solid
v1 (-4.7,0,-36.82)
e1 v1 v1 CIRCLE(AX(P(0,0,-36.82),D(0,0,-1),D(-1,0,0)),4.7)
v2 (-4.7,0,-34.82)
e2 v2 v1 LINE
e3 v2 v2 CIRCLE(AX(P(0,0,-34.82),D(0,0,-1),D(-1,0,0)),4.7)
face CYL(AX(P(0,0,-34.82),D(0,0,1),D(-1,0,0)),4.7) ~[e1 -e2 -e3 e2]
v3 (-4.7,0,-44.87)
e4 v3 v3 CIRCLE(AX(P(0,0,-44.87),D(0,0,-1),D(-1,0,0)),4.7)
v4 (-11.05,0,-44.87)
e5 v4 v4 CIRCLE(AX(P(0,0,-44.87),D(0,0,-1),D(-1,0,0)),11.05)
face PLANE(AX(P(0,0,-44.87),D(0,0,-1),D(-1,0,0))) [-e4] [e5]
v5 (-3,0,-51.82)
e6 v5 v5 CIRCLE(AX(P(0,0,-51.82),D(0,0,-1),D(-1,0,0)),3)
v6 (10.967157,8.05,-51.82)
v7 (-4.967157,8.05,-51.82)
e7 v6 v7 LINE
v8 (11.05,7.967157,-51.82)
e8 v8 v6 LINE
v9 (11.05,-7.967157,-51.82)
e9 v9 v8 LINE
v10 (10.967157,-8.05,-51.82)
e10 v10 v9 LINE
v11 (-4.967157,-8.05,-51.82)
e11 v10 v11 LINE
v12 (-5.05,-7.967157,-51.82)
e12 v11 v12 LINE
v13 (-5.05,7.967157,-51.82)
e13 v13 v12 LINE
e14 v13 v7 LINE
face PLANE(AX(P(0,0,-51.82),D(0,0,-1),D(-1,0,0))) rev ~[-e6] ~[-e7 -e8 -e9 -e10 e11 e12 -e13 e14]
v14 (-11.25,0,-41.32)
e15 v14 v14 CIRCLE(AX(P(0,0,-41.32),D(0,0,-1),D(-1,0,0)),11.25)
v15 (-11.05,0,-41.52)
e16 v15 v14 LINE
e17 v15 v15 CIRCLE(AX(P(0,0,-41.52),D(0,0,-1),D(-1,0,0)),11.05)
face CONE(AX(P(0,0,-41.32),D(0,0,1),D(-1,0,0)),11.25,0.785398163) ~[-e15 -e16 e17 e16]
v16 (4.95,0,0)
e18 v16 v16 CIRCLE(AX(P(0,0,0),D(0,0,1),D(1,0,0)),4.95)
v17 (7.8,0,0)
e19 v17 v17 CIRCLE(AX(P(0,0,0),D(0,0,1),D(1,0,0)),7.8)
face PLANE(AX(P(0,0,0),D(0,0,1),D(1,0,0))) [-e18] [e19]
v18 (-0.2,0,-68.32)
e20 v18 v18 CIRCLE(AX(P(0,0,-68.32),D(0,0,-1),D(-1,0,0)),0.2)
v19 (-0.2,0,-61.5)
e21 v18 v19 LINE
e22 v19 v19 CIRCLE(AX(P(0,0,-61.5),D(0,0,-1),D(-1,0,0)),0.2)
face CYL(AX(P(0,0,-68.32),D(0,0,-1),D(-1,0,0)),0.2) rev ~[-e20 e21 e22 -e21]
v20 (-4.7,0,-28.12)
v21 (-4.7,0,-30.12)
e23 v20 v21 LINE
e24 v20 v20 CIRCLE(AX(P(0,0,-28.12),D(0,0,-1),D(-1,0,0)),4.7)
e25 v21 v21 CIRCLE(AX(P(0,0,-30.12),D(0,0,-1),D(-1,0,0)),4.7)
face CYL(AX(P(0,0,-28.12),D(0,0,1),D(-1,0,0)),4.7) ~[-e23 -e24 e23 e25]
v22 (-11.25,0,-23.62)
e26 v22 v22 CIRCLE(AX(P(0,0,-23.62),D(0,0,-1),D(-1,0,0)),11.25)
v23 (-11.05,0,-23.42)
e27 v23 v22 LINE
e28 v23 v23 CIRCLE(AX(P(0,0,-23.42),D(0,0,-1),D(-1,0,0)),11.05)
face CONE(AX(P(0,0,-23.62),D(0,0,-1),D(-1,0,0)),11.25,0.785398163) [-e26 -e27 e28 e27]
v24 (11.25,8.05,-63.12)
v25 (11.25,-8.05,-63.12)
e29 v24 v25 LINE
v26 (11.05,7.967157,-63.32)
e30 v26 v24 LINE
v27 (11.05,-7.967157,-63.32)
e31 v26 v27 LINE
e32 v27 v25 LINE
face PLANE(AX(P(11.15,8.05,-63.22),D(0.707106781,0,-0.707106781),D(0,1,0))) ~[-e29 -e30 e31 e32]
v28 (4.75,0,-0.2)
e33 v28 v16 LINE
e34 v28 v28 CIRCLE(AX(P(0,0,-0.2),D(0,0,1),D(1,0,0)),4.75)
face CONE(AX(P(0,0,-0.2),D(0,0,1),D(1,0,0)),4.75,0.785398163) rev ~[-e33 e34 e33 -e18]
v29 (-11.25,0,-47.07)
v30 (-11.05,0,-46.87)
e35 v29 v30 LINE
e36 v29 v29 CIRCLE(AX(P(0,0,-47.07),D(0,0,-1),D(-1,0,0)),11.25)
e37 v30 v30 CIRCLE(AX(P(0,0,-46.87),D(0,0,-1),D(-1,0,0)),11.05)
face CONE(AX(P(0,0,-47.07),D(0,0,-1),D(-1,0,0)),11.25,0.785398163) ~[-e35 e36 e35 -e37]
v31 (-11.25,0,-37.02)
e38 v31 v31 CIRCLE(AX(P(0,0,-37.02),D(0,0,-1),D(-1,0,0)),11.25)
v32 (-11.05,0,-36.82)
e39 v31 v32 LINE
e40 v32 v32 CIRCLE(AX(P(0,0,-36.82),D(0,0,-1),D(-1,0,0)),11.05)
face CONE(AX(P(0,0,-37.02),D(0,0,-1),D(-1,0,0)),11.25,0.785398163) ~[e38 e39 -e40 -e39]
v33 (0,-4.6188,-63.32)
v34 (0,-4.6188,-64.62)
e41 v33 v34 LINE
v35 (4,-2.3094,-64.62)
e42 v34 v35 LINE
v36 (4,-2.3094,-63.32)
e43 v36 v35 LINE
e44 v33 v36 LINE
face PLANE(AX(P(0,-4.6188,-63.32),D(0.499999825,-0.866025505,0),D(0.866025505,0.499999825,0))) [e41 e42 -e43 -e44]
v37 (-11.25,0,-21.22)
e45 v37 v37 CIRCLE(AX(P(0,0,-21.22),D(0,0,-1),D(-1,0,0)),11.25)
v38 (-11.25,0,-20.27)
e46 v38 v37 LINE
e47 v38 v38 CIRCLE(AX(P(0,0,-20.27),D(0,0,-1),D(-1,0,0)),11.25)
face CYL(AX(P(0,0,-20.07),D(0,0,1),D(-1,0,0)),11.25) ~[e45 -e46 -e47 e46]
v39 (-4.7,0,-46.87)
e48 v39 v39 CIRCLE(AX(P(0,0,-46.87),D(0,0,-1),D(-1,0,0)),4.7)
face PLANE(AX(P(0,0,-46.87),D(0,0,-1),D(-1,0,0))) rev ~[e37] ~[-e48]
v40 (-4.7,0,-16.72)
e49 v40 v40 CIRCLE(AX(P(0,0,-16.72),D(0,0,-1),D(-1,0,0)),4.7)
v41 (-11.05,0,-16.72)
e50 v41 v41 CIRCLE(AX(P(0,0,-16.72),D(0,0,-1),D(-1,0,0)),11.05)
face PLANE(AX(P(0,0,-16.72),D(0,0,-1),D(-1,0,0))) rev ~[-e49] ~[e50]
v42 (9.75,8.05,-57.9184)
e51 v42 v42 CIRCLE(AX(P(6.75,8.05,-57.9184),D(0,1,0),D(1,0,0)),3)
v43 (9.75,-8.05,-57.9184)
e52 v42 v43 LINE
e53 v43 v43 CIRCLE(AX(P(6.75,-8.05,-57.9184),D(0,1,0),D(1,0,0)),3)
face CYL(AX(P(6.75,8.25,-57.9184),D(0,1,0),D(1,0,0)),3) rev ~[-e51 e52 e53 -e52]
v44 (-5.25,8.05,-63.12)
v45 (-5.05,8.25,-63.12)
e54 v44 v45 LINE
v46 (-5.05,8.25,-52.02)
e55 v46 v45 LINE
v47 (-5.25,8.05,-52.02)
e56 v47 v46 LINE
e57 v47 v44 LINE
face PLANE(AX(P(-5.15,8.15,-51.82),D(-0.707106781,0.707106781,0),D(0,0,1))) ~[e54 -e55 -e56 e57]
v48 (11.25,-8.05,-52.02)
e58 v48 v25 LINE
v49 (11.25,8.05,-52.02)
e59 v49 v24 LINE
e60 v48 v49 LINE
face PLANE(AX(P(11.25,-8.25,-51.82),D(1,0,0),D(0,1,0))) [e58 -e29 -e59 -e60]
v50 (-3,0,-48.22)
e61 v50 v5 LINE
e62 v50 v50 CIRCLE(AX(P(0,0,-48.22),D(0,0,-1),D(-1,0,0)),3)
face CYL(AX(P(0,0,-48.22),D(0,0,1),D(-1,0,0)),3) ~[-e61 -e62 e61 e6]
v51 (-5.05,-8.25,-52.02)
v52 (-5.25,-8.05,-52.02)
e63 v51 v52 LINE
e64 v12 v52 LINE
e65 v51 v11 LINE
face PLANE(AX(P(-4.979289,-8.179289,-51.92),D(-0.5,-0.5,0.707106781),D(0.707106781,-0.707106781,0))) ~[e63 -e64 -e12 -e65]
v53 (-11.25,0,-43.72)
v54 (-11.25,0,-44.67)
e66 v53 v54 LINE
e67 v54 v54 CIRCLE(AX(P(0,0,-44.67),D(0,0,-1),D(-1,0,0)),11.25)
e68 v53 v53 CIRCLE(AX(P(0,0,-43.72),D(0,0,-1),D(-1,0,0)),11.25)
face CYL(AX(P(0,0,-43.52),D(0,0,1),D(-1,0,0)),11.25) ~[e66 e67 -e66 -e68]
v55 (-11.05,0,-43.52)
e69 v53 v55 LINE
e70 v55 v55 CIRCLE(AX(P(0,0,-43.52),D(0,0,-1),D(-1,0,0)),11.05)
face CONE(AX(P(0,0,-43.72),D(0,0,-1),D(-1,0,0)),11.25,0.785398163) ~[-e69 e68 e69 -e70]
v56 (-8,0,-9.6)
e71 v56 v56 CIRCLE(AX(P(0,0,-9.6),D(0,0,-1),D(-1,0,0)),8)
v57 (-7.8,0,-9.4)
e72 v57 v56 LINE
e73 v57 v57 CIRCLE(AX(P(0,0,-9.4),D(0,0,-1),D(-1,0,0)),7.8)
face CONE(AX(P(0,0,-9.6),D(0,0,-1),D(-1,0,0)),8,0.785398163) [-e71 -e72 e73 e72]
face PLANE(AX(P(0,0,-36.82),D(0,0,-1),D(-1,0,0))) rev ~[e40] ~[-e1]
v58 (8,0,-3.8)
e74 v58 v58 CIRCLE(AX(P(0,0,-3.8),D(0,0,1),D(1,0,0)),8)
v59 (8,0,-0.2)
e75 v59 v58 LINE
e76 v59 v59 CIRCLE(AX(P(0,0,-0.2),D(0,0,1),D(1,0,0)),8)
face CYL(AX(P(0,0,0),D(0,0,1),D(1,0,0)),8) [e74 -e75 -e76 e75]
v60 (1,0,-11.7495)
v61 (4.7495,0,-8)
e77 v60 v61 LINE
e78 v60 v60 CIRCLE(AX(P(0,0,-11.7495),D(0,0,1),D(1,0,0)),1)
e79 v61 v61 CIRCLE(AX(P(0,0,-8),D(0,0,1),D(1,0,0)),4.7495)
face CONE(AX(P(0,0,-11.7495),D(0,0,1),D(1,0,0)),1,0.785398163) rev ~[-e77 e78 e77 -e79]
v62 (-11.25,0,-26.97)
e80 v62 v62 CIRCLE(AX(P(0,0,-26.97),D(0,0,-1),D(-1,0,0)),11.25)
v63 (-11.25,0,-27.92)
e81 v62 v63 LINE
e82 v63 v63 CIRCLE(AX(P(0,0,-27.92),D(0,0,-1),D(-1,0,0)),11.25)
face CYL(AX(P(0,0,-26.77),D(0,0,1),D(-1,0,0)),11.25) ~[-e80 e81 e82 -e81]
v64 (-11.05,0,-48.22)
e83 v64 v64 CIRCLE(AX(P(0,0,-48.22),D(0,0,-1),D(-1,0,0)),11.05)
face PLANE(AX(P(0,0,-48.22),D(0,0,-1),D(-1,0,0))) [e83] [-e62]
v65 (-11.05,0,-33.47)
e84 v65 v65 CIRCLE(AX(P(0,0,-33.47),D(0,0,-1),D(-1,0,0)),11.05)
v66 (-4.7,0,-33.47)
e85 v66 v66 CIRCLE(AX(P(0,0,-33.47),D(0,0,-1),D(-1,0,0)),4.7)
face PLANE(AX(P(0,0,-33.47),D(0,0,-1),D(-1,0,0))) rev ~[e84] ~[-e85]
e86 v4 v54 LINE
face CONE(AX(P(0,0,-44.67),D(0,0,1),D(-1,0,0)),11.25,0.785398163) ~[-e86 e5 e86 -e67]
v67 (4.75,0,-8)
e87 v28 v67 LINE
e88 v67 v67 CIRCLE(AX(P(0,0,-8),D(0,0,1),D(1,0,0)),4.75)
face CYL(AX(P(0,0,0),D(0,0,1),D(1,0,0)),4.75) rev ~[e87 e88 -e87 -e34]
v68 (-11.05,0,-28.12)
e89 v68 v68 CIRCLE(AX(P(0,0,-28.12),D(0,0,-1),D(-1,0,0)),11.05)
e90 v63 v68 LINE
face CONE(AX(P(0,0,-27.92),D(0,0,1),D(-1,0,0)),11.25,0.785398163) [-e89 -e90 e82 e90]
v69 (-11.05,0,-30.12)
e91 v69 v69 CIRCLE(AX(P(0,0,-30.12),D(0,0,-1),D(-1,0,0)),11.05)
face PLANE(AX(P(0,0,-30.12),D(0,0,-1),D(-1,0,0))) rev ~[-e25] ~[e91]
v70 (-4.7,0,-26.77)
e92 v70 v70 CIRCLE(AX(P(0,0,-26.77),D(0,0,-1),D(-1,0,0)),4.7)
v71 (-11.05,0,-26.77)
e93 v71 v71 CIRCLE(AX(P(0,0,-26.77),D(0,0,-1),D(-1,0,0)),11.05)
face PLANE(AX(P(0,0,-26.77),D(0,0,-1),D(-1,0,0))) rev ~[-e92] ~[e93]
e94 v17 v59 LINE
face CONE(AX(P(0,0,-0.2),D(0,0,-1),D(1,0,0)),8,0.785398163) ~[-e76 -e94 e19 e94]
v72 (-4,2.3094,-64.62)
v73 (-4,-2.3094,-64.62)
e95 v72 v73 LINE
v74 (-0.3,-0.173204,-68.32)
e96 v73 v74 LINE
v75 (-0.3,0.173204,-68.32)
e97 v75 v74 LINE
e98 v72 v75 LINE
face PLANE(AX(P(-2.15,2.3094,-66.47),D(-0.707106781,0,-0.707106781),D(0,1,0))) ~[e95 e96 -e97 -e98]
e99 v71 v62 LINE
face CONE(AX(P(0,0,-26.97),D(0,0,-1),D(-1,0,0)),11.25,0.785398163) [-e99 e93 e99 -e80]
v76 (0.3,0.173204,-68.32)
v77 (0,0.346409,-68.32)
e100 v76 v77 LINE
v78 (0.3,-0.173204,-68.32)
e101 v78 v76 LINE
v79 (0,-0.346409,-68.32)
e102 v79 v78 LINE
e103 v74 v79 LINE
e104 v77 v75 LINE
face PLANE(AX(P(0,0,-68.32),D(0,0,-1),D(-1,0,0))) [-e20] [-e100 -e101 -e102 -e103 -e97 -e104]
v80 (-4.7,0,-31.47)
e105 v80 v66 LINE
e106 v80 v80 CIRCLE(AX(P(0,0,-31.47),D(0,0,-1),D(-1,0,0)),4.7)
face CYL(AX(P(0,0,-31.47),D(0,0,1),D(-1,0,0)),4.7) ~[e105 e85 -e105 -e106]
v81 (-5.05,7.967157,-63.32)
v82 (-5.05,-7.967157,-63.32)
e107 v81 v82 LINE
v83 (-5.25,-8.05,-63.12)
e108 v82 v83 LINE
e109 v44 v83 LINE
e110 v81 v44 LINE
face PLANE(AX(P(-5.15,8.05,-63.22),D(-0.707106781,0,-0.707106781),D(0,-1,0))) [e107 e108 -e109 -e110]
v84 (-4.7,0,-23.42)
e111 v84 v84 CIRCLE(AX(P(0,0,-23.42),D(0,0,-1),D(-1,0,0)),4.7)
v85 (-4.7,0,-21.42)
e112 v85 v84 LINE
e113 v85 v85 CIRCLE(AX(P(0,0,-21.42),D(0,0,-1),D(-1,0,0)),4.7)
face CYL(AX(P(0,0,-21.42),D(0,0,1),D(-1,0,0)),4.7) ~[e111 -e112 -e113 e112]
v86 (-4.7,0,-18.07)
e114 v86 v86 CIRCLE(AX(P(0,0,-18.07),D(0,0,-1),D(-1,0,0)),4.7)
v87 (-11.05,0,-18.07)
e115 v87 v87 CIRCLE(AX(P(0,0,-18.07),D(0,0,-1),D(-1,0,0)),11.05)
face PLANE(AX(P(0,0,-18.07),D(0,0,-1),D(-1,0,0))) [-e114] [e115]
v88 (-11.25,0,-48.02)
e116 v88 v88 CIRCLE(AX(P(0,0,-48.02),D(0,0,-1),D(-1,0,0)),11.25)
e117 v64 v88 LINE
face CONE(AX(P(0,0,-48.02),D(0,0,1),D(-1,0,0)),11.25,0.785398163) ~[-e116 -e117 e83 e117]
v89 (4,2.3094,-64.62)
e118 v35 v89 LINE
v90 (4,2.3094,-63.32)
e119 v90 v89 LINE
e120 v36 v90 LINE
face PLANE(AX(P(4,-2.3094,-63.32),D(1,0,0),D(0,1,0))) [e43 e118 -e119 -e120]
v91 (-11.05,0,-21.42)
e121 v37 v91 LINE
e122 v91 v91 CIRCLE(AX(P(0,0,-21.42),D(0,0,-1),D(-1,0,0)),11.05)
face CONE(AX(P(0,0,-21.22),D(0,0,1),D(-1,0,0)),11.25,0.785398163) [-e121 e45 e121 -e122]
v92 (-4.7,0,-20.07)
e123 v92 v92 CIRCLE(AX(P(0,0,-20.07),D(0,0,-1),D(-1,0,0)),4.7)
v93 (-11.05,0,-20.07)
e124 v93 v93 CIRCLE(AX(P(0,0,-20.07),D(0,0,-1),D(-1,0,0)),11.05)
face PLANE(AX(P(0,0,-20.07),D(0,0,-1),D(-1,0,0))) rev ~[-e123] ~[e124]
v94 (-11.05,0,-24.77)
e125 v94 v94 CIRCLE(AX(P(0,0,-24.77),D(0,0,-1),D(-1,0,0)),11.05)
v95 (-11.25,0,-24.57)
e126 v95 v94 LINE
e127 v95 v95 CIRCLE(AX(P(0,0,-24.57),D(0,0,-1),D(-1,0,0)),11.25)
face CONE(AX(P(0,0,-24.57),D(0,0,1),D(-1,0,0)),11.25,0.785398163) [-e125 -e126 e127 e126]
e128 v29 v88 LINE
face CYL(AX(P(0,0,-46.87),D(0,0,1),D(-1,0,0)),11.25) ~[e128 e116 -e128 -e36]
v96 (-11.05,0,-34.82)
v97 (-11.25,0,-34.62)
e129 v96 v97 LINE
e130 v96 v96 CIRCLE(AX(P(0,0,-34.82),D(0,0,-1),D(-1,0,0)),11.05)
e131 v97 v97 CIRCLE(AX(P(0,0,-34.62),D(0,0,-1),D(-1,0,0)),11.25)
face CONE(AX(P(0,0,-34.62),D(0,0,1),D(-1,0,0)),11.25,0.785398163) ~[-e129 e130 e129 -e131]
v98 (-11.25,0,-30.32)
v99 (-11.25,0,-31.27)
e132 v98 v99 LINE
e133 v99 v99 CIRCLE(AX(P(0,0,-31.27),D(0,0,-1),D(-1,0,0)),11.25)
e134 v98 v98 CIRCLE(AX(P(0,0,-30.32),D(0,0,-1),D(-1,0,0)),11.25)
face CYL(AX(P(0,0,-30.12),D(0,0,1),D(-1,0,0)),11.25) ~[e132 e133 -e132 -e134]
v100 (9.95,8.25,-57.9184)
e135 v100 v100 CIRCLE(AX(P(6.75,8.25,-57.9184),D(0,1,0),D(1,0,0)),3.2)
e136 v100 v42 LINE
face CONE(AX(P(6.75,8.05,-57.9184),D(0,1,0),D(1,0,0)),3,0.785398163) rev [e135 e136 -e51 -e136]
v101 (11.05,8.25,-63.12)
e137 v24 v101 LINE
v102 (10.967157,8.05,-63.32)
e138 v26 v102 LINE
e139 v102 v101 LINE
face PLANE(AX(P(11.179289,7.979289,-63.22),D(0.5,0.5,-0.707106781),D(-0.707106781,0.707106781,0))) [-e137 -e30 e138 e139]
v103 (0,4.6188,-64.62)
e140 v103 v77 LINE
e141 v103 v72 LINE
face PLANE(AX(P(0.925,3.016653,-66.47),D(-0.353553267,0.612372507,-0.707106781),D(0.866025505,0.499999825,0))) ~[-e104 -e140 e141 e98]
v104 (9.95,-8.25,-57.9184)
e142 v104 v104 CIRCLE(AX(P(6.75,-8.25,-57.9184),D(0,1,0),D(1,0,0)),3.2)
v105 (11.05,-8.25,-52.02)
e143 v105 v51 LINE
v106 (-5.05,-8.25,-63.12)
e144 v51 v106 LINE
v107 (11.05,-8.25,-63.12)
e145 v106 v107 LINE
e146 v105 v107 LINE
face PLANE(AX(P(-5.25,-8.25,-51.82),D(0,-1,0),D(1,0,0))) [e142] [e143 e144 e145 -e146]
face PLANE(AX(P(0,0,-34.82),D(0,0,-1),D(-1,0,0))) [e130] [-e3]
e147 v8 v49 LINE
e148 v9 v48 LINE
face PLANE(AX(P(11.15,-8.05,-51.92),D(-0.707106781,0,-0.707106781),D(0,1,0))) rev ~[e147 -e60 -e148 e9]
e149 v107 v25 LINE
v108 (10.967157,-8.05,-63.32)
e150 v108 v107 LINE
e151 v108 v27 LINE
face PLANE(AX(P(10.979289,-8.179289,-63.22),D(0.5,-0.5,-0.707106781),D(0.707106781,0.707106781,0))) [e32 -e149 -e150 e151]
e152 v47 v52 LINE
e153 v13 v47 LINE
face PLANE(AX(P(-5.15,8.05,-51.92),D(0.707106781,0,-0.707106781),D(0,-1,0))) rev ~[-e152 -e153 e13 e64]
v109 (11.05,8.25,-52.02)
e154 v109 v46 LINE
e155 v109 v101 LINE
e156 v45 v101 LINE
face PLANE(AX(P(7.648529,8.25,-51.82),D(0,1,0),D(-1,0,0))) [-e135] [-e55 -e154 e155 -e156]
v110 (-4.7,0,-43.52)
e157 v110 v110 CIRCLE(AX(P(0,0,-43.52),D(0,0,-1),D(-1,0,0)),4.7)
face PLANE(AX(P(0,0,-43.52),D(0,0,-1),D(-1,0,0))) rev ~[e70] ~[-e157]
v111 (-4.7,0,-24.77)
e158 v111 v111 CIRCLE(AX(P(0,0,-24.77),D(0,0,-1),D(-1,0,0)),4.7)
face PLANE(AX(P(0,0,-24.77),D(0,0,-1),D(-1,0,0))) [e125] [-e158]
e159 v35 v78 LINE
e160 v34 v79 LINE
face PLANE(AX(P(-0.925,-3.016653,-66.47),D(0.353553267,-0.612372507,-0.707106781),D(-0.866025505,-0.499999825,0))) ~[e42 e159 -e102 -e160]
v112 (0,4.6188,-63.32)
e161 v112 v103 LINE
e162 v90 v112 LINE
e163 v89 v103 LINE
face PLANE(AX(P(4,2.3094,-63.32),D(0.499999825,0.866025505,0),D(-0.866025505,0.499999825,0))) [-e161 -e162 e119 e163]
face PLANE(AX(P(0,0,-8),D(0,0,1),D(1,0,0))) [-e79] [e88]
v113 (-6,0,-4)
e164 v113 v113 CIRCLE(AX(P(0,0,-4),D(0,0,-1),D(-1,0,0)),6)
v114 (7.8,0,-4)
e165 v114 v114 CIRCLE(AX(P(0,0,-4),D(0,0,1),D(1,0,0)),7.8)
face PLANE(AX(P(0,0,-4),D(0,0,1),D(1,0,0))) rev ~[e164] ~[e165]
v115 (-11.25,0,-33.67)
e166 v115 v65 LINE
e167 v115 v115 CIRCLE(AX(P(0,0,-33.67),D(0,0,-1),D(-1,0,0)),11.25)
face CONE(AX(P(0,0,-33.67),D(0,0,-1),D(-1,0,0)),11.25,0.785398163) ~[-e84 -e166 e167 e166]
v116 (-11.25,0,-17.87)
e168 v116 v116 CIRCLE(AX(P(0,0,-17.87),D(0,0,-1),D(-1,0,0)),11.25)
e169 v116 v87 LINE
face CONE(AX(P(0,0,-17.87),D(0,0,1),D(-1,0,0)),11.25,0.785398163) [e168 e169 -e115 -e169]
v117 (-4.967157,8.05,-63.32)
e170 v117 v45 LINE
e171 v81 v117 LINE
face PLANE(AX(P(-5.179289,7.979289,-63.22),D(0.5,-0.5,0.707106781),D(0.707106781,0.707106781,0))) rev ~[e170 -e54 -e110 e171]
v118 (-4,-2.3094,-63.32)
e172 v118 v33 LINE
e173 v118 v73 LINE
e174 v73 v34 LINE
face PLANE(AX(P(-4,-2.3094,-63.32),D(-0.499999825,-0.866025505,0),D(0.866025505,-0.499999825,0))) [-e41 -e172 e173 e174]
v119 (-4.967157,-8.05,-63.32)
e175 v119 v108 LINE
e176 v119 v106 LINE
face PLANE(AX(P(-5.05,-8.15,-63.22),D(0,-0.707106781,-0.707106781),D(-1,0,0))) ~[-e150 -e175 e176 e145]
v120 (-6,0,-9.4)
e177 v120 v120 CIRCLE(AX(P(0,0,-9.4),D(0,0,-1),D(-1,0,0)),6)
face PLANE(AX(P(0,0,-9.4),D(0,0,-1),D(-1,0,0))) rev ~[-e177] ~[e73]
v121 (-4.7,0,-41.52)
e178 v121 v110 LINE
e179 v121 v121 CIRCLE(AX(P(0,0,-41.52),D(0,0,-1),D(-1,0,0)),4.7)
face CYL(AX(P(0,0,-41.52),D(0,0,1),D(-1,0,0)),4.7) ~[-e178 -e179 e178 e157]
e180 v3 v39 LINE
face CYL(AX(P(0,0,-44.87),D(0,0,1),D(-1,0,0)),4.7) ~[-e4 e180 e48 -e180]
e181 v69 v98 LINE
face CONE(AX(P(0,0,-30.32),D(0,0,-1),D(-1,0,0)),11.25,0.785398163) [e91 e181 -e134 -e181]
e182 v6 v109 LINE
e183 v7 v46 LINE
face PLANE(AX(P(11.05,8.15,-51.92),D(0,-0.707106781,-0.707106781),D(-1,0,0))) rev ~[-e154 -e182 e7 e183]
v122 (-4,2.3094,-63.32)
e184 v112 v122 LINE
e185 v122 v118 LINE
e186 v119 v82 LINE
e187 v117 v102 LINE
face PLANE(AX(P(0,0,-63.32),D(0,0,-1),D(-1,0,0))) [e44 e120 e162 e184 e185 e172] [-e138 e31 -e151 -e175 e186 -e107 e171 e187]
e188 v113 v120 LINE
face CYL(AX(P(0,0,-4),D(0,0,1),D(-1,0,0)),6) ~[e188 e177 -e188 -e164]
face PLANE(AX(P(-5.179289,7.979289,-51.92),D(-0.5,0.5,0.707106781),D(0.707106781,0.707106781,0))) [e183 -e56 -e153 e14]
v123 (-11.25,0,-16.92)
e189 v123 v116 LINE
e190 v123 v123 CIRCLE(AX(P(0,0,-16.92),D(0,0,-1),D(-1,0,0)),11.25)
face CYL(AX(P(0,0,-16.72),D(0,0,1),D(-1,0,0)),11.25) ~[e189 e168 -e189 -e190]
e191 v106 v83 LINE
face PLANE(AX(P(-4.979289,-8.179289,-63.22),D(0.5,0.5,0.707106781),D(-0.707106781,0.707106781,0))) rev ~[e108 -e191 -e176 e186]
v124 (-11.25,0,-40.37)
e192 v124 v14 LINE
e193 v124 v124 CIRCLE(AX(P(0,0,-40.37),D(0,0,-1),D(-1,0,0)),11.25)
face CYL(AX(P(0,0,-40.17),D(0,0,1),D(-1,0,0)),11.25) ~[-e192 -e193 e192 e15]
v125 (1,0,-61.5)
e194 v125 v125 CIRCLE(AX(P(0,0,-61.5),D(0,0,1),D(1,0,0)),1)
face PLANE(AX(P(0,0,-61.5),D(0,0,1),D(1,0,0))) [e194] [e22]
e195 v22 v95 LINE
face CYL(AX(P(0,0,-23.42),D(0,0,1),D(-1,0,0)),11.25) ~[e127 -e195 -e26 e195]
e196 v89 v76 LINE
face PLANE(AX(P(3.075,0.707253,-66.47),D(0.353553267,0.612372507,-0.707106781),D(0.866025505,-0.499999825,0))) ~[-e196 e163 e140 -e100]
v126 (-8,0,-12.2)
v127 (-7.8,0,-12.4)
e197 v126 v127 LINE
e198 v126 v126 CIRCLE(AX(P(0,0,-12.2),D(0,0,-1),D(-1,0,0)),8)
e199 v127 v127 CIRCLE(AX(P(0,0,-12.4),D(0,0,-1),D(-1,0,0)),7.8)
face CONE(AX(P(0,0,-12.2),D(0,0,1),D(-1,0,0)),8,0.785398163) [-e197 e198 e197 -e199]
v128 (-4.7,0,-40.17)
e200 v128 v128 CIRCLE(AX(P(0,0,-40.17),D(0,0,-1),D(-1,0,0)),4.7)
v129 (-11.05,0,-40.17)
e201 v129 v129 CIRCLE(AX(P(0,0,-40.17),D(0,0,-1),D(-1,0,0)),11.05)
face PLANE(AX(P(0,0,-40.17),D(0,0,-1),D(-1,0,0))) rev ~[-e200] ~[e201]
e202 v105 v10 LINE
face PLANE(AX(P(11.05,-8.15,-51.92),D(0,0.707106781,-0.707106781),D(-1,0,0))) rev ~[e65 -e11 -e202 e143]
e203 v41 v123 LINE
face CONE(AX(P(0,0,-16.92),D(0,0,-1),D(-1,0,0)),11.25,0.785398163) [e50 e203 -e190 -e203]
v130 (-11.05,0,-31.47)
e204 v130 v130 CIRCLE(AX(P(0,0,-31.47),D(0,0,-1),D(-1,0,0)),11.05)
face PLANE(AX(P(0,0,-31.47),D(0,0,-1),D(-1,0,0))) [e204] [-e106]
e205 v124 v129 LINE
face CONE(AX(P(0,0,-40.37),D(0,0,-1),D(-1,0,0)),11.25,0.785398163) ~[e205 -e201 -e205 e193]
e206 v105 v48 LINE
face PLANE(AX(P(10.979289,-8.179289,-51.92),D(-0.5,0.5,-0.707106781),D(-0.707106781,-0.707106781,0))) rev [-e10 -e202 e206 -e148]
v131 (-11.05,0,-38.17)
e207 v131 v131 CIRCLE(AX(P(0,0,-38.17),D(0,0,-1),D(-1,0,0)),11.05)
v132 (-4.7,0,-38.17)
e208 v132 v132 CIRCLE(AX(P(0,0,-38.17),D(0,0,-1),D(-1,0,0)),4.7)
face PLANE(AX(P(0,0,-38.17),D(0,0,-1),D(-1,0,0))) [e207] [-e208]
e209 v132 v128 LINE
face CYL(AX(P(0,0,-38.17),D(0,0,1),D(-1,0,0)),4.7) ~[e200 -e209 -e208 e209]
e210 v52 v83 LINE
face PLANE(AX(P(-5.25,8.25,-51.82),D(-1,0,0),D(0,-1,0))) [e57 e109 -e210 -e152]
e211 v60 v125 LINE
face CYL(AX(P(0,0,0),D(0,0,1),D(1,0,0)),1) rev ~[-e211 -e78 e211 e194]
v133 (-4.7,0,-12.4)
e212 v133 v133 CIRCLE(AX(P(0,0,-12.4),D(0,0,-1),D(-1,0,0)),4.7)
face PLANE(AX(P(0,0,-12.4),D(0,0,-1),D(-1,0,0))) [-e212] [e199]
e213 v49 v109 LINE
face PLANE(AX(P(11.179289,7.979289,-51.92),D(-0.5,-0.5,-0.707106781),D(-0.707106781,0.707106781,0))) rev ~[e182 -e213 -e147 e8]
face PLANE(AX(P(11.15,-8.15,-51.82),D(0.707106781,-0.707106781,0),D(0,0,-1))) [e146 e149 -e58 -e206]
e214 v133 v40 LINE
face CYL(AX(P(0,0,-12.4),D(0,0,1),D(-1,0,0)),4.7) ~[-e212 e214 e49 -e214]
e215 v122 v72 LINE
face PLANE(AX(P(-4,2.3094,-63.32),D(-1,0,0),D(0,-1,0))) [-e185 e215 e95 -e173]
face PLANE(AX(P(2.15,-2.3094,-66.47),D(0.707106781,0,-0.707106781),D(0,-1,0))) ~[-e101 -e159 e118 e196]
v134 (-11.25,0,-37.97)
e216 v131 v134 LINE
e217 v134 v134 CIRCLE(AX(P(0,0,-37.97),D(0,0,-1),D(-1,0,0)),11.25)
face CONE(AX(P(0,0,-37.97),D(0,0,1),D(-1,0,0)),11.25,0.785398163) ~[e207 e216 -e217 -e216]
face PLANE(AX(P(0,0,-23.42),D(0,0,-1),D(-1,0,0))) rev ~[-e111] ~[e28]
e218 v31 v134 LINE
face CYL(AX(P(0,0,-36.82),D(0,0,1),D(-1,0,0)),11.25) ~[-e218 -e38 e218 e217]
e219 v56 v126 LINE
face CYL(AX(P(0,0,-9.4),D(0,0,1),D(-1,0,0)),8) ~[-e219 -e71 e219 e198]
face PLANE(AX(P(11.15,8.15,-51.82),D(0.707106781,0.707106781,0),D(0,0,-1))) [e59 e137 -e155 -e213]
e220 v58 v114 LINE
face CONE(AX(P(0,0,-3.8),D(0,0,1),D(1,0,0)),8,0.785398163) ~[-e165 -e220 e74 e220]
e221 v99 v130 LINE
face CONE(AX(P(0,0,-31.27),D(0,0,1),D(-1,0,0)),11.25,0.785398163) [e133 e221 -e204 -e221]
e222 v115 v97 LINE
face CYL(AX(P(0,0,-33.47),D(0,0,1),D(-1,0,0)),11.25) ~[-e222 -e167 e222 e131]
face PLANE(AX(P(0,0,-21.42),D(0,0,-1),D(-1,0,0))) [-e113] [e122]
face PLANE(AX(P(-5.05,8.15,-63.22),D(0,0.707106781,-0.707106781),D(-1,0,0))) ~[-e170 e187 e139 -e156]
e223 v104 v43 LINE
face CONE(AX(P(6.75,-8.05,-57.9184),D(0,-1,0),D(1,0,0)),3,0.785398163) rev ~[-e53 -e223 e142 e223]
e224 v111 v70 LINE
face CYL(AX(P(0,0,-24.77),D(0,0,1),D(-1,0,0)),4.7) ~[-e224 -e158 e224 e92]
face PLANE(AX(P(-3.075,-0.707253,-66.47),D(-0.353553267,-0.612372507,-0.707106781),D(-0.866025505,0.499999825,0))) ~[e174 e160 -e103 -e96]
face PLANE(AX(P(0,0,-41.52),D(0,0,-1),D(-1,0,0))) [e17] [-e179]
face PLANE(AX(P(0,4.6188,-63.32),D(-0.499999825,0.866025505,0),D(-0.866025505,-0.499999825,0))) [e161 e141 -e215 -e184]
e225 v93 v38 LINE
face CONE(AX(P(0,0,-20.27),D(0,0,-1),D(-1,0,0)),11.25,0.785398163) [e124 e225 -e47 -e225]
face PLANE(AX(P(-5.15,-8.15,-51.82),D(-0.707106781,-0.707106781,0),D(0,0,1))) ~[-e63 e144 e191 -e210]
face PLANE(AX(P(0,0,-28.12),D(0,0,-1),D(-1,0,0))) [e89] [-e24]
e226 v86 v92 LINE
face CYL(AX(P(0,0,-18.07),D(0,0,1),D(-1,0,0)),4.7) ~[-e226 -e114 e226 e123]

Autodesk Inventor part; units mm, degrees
ref_plane "YZ Plane" through (0, 0, 0) normal (1, 0, 0) x (0, 1, 0)
ref_plane "XZ Plane" through (0, 0, 0) normal (0, 1, 0) x (-1, 0, 0)
ref_plane "XY Plane" through (0, 0, 0) normal (0, 0, 1) x (1, 0, 0)
sketch "Sketch1" plane through (0, 0, 0) normal (0, 0, 1) x (1, 0, 0)
  circle A0 centre (0, 0) radius 8
  dimension "d0" = 16
extrude "Extrusion1" add sketch "Sketch1" against normal blind 4
sketch "Sketch2" plane through (0, 0, -4) normal (0, 0, -1) x (-1, 0, 0)
  circle A0 centre (0, 0) radius 6
  dimension "d3" = 12
extrude "Extrusion2" add sketch "Sketch2" along normal blind 5.4
sketch "Sketch3" plane through (0, 0, -9.4) normal (0, 0, -1) x (-1, 0, 0)
  circle A0 centre (0, 0) radius 8
  circle A1 centre (0, 0) radius 8 projected
extrude "Extrusion3" add sketch "Sketch3" along normal blind 3
sketch "Sketch4" plane through (0, 0, -12.4) normal (0, 0, -1) x (-1, 0, 0)
  circle A0 centre (0, 0) radius 4.7
  dimension "d8" = 9.4
extrude "Extrusion4" add sketch "Sketch4" along normal blind 4.32
sketch "Sketch5" plane through (0, 0, -16.72) normal (0, 0, -1) x (-1, 0, 0)
  circle A0 centre (0, 0) radius 11.25
  dimension "d11" = 22.5
extrude "Extrusion5" add sketch "Sketch5" along normal blind 1.35
sketch "Sketch6" plane through (0, 0, -18.07) normal (0, 0, -1) x (-1, 0, 0)
  circle A0 centre (0, 0) radius 4.7
extrude "Extrusion6" add sketch "Sketch6" along normal blind 2
sketch "Sketch7" plane through (0, 0, -20.07) normal (0, 0, -1) x (-1, 0, 0)
  circle A0 centre (0, 0) radius 11.25
  circle A1 centre (0, 0) radius 11.25 projected
extrude "Extrusion7" add sketch "Sketch7" along normal blind 1.35
sketch "Sketch8" plane through (0, 0, -21.42) normal (0, 0, -1) x (-1, 0, 0)
  circle A0 centre (0, 0) radius 4.7
extrude "Extrusion8" add sketch "Sketch8" along normal blind 2
sketch "Sketch9" plane through (0, 0, -23.42) normal (0, 0, -1) x (-1, 0, 0)
  circle A0 centre (0, 0) radius 11.25
  circle A1 centre (0, 0) radius 11.25 projected
extrude "Extrusion9" add sketch "Sketch9" along normal blind 1.35
sketch "Sketch10" plane through (0, 0, -24.77) normal (0, 0, -1) x (-1, 0, 0)
  circle A0 centre (0, 0) radius 4.7
extrude "Extrusion10" add sketch "Sketch10" along normal blind 2
sketch "Sketch11" plane through (0, 0, -26.77) normal (0, 0, -1) x (-1, 0, 0)
  circle A0 centre (0, 0) radius 11.25
  circle A1 centre (0, 0) radius 11.25 projected
extrude "Extrusion11" add sketch "Sketch11" along normal blind 1.35
sketch "Sketch12" plane through (0, 0, -28.12) normal (0, 0, -1) x (-1, 0, 0)
  circle A0 centre (0, 0) radius 4.7
extrude "Extrusion12" add sketch "Sketch12" along normal blind 2
sketch "Sketch13" plane through (0, 0, -30.12) normal (0, 0, -1) x (-1, 0, 0)
  circle A0 centre (0, 0) radius 11.25
  circle A1 centre (0, 0) radius 11.25 projected
extrude "Extrusion13" add sketch "Sketch13" along normal blind 1.35
sketch "Sketch14" plane through (0, 0, -31.47) normal (0, 0, -1) x (-1, 0, 0)
  circle A0 centre (0, 0) radius 4.7
extrude "Extrusion14" add sketch "Sketch14" along normal blind 2
sketch "Sketch15" plane through (0, 0, -33.47) normal (0, 0, -1) x (-1, 0, 0)
  circle A0 centre (0, 0) radius 11.25
  circle A1 centre (0, 0) radius 11.25 projected
extrude "Extrusion15" add sketch "Sketch15" along normal blind 1.35
sketch "Sketch16" plane through (0, 0, -34.82) normal (0, 0, -1) x (-1, 0, 0)
  circle A0 centre (0, 0) radius 4.7
extrude "Extrusion16" add sketch "Sketch16" along normal blind 2
sketch "Sketch17" plane through (0, 0, -36.82) normal (0, 0, -1) x (-1, 0, 0)
  circle A0 centre (0, 0) radius 11.25
  circle A1 centre (0, 0) radius 11.25 projected
extrude "Extrusion17" add sketch "Sketch17" along normal blind 1.35
sketch "Sketch18" plane through (0, 0, -38.17) normal (0, 0, -1) x (-1, 0, 0)
  circle A0 centre (0, 0) radius 4.7
extrude "Extrusion18" add sketch "Sketch18" along normal blind 2
sketch "Sketch19" plane through (0, 0, -40.17) normal (0, 0, -1) x (-1, 0, 0)
  circle A0 centre (0, 0) radius 11.25
  circle A1 centre (0, 0) radius 11.25 projected
extrude "Extrusion19" add sketch "Sketch19" along normal blind 1.35
sketch "Sketch20" plane through (0, 0, -41.52) normal (0, 0, -1) x (-1, 0, 0)
  circle A0 centre (0, 0) radius 4.7
extrude "Extrusion20" add sketch "Sketch20" along normal blind 2
sketch "Sketch21" plane through (0, 0, -43.52) normal (0, 0, -1) x (-1, 0, 0)
  circle A0 centre (0, 0) radius 11.25
  circle A1 centre (0, 0) radius 11.25 projected
extrude "Extrusion21" add sketch "Sketch21" along normal blind 1.35
sketch "Sketch22" plane through (0, 0, -44.87) normal (0, 0, -1) x (-1, 0, 0)
  circle A0 centre (0, 0) radius 4.7
extrude "Extrusion22" add sketch "Sketch22" along normal blind 2
sketch "Sketch23" plane through (0, 0, -46.87) normal (0, 0, -1) x (-1, 0, 0)
  circle A0 centre (0, 0) radius 11.25
  circle A1 centre (0, 0) radius 11.25 projected
extrude "Extrusion23" add sketch "Sketch23" along normal blind 1.35
sketch "Sketch24" plane through (0, 0, -48.22) normal (0, 0, -1) x (-1, 0, 0)
  circle A0 centre (0, 0) radius 3
  dimension "d50" = 6
extrude "Extrusion24" add sketch "Sketch24" along normal blind 3.6
sketch "Sketch25" plane through (0, 0, -51.82) normal (0, 0, -1) x (-1, 0, 0)
  line L0 (5.25, -8.25) -> (-11.25, -8.25)
  line L1 (-11.25, -8.25) -> (-11.25, 8.25)
  line L2 (-11.25, 8.25) -> (5.25, 8.25)
  line L3 (5.25, 8.25) -> (5.25, -8.25)
  circle A0 centre (0, 0) radius 11.25 projected
  point P0 (5.25, 0)
  dimension "d53" = 16.5
  dimension "d54" = 16.5
extrude "Extrusion25" add sketch "Sketch25" along normal blind 11.5 contours L0 A0 L2 L3 | L0 L1 A0 | L1 L2 A0 picked at (-0.25, 0)
sketch "Sketch26" plane through (0, 0, -63.32) normal (0, 0, -1) x (-1, 0, 0)
  circle A0 centre (0, 0) radius 3 projected
  line L0 (-4, -2.3094) -> (-4, 2.3094)
  line L1 (-4, 2.3094) -> (0, 4.6188)
  line L2 (0, 4.6188) -> (4, 2.3094)
  line L3 (4, 2.3094) -> (4, -2.3094)
  line L4 (4, -2.3094) -> (0, -4.6188)
  line L5 (0, -4.6188) -> (-4, -2.3094)
  line L6 (5.25, -8.25) -> (5.25, 8.25) projected
  dimension "d58" = 8
extrude "Extrusion26" add sketch "Sketch26" along normal blind 5 contours A0 | L0 L1 L2 L3 L4 L5
chamfer "Chamfer1" distance 3.7 angle 45 6 edges at (-4, 0, -68.32) (-2, 3.4641, -68.32) (2, 3.4641, -68.32) (4, 0, -68.32) (2, -3.4641, -68.32) (-2, -3.4641, -68.32)
sketch "Sketch27" plane through (0, 0, -68.32) normal (0, 0, -1) x (-1, 0, 0)
  circle A0 centre (0, 0) radius 0.2
  dimension "d64" = 0.4
extrude "Extrusion27" cut sketch "Sketch27" against normal blind 75.75
sketch "Sketch28" plane through (0, 0, 0) normal (0, 0, 1) x (1, 0, 0)
  circle A0 centre (0, 0) radius 1
  dimension "d67" = 2
extrude "Extrusion28" cut sketch "Sketch28" against normal blind 61.5
sketch "Sketch29" plane through (0, 0, 0) normal (0, 0, 1) x (1, 0, 0)
  circle A0 centre (0, 0) radius 0.2 projected
  circle A1 centre (0, 0) radius 4.75
  dimension "d70" = 9.5
extrude "Extrusion29" cut sketch "Sketch29" against normal blind 8 contours A0 | A1
chamfer "Chamfer2" distance 3.75 angle 45 1 edges at (-1, 0, -8)
thread "Thread1" size "M10x1.5" class "6H" standard "ANSI Metric M Profile" full length
chamfer "Chamfer3" distance 0.2 angle 45 25 edges at (-8, 0, 0) (-8, 0, -4) (8, 0, -9.4) (8, 0, -12.4) (-4.75, 0, 0) (11.25, 0, -16.72) (11.25, 0, -18.07) (11.25, 0, -20.07) (11.25, 0, -21.42) (11.25, 0, -23.42) (11.25, 0, -24.77) (11.25, 0, -26.77) (11.25, 0, -28.12) (11.25, 0, -30.12) (11.25, 0, -31.47) (11.25, 0, -33.47) (11.25, 0, -34.82) (11.25, 0, -36.82) (11.25, 0, -38.17) (11.25, 0, -40.17) (11.25, 0, -41.52) (11.25, 0, -43.52) (11.25, 0, -44.87) (11.25, 0, -46.87) (11.25, 0, -48.22)
chamfer "Chamfer4" distance 0.2 angle 45 4 edges at (-5.25, -8.25, -57.57) (11.25, -8.25, -57.57) (-5.25, 8.25, -57.57) (11.25, 8.25, -57.57)
thread "Thread2" size "M6x1" class "6g" standard "ANSI Metric M Profile" full length
sketch "Sketch30" plane through (-5.05, 8.25, -51.82) normal (0, 1, 0) x (1, 0, 0)
  circle A0 centre (11.8, 6.0984) radius 3
  line L0 (16.3, 0) -> (16.3, 11.5) projected
  point P0 (5.05, -51.82)
  dimension "d86" = 6
  dimension "d87" = 4.5
extrude "Extrusion30" cut sketch "Sketch30" against normal blind 16.5
chamfer "Chamfer5" distance 0.2 angle 45 2 edges at (3.75, -8.25, -57.9184) (3.75, 8.25, -57.9184)
chamfer "Chamfer6" distance 0.2 angle 45 16 edges at (3, -8.25, -51.82) (11.25, 0, -51.82) (3, 8.25, -51.82) (-5.25, 0, -51.82) (-5.15, -8.15, -51.82) (11.15, -8.15, -51.82) (11.15, 8.15, -51.82) (-5.15, 8.15, -51.82) (-5.15, 8.15, -63.32) (-5.15, -8.15, -63.32) (11.15, -8.15, -63.32) (11.15, 8.15, -63.32) (3, 8.25, -63.32) (11.25, 0, -63.32) (3, -8.25, -63.32) (-5.25, 0, -63.32)
properties part number "Extruder Heat Sink" material "Aluminum 6061-AHC"
